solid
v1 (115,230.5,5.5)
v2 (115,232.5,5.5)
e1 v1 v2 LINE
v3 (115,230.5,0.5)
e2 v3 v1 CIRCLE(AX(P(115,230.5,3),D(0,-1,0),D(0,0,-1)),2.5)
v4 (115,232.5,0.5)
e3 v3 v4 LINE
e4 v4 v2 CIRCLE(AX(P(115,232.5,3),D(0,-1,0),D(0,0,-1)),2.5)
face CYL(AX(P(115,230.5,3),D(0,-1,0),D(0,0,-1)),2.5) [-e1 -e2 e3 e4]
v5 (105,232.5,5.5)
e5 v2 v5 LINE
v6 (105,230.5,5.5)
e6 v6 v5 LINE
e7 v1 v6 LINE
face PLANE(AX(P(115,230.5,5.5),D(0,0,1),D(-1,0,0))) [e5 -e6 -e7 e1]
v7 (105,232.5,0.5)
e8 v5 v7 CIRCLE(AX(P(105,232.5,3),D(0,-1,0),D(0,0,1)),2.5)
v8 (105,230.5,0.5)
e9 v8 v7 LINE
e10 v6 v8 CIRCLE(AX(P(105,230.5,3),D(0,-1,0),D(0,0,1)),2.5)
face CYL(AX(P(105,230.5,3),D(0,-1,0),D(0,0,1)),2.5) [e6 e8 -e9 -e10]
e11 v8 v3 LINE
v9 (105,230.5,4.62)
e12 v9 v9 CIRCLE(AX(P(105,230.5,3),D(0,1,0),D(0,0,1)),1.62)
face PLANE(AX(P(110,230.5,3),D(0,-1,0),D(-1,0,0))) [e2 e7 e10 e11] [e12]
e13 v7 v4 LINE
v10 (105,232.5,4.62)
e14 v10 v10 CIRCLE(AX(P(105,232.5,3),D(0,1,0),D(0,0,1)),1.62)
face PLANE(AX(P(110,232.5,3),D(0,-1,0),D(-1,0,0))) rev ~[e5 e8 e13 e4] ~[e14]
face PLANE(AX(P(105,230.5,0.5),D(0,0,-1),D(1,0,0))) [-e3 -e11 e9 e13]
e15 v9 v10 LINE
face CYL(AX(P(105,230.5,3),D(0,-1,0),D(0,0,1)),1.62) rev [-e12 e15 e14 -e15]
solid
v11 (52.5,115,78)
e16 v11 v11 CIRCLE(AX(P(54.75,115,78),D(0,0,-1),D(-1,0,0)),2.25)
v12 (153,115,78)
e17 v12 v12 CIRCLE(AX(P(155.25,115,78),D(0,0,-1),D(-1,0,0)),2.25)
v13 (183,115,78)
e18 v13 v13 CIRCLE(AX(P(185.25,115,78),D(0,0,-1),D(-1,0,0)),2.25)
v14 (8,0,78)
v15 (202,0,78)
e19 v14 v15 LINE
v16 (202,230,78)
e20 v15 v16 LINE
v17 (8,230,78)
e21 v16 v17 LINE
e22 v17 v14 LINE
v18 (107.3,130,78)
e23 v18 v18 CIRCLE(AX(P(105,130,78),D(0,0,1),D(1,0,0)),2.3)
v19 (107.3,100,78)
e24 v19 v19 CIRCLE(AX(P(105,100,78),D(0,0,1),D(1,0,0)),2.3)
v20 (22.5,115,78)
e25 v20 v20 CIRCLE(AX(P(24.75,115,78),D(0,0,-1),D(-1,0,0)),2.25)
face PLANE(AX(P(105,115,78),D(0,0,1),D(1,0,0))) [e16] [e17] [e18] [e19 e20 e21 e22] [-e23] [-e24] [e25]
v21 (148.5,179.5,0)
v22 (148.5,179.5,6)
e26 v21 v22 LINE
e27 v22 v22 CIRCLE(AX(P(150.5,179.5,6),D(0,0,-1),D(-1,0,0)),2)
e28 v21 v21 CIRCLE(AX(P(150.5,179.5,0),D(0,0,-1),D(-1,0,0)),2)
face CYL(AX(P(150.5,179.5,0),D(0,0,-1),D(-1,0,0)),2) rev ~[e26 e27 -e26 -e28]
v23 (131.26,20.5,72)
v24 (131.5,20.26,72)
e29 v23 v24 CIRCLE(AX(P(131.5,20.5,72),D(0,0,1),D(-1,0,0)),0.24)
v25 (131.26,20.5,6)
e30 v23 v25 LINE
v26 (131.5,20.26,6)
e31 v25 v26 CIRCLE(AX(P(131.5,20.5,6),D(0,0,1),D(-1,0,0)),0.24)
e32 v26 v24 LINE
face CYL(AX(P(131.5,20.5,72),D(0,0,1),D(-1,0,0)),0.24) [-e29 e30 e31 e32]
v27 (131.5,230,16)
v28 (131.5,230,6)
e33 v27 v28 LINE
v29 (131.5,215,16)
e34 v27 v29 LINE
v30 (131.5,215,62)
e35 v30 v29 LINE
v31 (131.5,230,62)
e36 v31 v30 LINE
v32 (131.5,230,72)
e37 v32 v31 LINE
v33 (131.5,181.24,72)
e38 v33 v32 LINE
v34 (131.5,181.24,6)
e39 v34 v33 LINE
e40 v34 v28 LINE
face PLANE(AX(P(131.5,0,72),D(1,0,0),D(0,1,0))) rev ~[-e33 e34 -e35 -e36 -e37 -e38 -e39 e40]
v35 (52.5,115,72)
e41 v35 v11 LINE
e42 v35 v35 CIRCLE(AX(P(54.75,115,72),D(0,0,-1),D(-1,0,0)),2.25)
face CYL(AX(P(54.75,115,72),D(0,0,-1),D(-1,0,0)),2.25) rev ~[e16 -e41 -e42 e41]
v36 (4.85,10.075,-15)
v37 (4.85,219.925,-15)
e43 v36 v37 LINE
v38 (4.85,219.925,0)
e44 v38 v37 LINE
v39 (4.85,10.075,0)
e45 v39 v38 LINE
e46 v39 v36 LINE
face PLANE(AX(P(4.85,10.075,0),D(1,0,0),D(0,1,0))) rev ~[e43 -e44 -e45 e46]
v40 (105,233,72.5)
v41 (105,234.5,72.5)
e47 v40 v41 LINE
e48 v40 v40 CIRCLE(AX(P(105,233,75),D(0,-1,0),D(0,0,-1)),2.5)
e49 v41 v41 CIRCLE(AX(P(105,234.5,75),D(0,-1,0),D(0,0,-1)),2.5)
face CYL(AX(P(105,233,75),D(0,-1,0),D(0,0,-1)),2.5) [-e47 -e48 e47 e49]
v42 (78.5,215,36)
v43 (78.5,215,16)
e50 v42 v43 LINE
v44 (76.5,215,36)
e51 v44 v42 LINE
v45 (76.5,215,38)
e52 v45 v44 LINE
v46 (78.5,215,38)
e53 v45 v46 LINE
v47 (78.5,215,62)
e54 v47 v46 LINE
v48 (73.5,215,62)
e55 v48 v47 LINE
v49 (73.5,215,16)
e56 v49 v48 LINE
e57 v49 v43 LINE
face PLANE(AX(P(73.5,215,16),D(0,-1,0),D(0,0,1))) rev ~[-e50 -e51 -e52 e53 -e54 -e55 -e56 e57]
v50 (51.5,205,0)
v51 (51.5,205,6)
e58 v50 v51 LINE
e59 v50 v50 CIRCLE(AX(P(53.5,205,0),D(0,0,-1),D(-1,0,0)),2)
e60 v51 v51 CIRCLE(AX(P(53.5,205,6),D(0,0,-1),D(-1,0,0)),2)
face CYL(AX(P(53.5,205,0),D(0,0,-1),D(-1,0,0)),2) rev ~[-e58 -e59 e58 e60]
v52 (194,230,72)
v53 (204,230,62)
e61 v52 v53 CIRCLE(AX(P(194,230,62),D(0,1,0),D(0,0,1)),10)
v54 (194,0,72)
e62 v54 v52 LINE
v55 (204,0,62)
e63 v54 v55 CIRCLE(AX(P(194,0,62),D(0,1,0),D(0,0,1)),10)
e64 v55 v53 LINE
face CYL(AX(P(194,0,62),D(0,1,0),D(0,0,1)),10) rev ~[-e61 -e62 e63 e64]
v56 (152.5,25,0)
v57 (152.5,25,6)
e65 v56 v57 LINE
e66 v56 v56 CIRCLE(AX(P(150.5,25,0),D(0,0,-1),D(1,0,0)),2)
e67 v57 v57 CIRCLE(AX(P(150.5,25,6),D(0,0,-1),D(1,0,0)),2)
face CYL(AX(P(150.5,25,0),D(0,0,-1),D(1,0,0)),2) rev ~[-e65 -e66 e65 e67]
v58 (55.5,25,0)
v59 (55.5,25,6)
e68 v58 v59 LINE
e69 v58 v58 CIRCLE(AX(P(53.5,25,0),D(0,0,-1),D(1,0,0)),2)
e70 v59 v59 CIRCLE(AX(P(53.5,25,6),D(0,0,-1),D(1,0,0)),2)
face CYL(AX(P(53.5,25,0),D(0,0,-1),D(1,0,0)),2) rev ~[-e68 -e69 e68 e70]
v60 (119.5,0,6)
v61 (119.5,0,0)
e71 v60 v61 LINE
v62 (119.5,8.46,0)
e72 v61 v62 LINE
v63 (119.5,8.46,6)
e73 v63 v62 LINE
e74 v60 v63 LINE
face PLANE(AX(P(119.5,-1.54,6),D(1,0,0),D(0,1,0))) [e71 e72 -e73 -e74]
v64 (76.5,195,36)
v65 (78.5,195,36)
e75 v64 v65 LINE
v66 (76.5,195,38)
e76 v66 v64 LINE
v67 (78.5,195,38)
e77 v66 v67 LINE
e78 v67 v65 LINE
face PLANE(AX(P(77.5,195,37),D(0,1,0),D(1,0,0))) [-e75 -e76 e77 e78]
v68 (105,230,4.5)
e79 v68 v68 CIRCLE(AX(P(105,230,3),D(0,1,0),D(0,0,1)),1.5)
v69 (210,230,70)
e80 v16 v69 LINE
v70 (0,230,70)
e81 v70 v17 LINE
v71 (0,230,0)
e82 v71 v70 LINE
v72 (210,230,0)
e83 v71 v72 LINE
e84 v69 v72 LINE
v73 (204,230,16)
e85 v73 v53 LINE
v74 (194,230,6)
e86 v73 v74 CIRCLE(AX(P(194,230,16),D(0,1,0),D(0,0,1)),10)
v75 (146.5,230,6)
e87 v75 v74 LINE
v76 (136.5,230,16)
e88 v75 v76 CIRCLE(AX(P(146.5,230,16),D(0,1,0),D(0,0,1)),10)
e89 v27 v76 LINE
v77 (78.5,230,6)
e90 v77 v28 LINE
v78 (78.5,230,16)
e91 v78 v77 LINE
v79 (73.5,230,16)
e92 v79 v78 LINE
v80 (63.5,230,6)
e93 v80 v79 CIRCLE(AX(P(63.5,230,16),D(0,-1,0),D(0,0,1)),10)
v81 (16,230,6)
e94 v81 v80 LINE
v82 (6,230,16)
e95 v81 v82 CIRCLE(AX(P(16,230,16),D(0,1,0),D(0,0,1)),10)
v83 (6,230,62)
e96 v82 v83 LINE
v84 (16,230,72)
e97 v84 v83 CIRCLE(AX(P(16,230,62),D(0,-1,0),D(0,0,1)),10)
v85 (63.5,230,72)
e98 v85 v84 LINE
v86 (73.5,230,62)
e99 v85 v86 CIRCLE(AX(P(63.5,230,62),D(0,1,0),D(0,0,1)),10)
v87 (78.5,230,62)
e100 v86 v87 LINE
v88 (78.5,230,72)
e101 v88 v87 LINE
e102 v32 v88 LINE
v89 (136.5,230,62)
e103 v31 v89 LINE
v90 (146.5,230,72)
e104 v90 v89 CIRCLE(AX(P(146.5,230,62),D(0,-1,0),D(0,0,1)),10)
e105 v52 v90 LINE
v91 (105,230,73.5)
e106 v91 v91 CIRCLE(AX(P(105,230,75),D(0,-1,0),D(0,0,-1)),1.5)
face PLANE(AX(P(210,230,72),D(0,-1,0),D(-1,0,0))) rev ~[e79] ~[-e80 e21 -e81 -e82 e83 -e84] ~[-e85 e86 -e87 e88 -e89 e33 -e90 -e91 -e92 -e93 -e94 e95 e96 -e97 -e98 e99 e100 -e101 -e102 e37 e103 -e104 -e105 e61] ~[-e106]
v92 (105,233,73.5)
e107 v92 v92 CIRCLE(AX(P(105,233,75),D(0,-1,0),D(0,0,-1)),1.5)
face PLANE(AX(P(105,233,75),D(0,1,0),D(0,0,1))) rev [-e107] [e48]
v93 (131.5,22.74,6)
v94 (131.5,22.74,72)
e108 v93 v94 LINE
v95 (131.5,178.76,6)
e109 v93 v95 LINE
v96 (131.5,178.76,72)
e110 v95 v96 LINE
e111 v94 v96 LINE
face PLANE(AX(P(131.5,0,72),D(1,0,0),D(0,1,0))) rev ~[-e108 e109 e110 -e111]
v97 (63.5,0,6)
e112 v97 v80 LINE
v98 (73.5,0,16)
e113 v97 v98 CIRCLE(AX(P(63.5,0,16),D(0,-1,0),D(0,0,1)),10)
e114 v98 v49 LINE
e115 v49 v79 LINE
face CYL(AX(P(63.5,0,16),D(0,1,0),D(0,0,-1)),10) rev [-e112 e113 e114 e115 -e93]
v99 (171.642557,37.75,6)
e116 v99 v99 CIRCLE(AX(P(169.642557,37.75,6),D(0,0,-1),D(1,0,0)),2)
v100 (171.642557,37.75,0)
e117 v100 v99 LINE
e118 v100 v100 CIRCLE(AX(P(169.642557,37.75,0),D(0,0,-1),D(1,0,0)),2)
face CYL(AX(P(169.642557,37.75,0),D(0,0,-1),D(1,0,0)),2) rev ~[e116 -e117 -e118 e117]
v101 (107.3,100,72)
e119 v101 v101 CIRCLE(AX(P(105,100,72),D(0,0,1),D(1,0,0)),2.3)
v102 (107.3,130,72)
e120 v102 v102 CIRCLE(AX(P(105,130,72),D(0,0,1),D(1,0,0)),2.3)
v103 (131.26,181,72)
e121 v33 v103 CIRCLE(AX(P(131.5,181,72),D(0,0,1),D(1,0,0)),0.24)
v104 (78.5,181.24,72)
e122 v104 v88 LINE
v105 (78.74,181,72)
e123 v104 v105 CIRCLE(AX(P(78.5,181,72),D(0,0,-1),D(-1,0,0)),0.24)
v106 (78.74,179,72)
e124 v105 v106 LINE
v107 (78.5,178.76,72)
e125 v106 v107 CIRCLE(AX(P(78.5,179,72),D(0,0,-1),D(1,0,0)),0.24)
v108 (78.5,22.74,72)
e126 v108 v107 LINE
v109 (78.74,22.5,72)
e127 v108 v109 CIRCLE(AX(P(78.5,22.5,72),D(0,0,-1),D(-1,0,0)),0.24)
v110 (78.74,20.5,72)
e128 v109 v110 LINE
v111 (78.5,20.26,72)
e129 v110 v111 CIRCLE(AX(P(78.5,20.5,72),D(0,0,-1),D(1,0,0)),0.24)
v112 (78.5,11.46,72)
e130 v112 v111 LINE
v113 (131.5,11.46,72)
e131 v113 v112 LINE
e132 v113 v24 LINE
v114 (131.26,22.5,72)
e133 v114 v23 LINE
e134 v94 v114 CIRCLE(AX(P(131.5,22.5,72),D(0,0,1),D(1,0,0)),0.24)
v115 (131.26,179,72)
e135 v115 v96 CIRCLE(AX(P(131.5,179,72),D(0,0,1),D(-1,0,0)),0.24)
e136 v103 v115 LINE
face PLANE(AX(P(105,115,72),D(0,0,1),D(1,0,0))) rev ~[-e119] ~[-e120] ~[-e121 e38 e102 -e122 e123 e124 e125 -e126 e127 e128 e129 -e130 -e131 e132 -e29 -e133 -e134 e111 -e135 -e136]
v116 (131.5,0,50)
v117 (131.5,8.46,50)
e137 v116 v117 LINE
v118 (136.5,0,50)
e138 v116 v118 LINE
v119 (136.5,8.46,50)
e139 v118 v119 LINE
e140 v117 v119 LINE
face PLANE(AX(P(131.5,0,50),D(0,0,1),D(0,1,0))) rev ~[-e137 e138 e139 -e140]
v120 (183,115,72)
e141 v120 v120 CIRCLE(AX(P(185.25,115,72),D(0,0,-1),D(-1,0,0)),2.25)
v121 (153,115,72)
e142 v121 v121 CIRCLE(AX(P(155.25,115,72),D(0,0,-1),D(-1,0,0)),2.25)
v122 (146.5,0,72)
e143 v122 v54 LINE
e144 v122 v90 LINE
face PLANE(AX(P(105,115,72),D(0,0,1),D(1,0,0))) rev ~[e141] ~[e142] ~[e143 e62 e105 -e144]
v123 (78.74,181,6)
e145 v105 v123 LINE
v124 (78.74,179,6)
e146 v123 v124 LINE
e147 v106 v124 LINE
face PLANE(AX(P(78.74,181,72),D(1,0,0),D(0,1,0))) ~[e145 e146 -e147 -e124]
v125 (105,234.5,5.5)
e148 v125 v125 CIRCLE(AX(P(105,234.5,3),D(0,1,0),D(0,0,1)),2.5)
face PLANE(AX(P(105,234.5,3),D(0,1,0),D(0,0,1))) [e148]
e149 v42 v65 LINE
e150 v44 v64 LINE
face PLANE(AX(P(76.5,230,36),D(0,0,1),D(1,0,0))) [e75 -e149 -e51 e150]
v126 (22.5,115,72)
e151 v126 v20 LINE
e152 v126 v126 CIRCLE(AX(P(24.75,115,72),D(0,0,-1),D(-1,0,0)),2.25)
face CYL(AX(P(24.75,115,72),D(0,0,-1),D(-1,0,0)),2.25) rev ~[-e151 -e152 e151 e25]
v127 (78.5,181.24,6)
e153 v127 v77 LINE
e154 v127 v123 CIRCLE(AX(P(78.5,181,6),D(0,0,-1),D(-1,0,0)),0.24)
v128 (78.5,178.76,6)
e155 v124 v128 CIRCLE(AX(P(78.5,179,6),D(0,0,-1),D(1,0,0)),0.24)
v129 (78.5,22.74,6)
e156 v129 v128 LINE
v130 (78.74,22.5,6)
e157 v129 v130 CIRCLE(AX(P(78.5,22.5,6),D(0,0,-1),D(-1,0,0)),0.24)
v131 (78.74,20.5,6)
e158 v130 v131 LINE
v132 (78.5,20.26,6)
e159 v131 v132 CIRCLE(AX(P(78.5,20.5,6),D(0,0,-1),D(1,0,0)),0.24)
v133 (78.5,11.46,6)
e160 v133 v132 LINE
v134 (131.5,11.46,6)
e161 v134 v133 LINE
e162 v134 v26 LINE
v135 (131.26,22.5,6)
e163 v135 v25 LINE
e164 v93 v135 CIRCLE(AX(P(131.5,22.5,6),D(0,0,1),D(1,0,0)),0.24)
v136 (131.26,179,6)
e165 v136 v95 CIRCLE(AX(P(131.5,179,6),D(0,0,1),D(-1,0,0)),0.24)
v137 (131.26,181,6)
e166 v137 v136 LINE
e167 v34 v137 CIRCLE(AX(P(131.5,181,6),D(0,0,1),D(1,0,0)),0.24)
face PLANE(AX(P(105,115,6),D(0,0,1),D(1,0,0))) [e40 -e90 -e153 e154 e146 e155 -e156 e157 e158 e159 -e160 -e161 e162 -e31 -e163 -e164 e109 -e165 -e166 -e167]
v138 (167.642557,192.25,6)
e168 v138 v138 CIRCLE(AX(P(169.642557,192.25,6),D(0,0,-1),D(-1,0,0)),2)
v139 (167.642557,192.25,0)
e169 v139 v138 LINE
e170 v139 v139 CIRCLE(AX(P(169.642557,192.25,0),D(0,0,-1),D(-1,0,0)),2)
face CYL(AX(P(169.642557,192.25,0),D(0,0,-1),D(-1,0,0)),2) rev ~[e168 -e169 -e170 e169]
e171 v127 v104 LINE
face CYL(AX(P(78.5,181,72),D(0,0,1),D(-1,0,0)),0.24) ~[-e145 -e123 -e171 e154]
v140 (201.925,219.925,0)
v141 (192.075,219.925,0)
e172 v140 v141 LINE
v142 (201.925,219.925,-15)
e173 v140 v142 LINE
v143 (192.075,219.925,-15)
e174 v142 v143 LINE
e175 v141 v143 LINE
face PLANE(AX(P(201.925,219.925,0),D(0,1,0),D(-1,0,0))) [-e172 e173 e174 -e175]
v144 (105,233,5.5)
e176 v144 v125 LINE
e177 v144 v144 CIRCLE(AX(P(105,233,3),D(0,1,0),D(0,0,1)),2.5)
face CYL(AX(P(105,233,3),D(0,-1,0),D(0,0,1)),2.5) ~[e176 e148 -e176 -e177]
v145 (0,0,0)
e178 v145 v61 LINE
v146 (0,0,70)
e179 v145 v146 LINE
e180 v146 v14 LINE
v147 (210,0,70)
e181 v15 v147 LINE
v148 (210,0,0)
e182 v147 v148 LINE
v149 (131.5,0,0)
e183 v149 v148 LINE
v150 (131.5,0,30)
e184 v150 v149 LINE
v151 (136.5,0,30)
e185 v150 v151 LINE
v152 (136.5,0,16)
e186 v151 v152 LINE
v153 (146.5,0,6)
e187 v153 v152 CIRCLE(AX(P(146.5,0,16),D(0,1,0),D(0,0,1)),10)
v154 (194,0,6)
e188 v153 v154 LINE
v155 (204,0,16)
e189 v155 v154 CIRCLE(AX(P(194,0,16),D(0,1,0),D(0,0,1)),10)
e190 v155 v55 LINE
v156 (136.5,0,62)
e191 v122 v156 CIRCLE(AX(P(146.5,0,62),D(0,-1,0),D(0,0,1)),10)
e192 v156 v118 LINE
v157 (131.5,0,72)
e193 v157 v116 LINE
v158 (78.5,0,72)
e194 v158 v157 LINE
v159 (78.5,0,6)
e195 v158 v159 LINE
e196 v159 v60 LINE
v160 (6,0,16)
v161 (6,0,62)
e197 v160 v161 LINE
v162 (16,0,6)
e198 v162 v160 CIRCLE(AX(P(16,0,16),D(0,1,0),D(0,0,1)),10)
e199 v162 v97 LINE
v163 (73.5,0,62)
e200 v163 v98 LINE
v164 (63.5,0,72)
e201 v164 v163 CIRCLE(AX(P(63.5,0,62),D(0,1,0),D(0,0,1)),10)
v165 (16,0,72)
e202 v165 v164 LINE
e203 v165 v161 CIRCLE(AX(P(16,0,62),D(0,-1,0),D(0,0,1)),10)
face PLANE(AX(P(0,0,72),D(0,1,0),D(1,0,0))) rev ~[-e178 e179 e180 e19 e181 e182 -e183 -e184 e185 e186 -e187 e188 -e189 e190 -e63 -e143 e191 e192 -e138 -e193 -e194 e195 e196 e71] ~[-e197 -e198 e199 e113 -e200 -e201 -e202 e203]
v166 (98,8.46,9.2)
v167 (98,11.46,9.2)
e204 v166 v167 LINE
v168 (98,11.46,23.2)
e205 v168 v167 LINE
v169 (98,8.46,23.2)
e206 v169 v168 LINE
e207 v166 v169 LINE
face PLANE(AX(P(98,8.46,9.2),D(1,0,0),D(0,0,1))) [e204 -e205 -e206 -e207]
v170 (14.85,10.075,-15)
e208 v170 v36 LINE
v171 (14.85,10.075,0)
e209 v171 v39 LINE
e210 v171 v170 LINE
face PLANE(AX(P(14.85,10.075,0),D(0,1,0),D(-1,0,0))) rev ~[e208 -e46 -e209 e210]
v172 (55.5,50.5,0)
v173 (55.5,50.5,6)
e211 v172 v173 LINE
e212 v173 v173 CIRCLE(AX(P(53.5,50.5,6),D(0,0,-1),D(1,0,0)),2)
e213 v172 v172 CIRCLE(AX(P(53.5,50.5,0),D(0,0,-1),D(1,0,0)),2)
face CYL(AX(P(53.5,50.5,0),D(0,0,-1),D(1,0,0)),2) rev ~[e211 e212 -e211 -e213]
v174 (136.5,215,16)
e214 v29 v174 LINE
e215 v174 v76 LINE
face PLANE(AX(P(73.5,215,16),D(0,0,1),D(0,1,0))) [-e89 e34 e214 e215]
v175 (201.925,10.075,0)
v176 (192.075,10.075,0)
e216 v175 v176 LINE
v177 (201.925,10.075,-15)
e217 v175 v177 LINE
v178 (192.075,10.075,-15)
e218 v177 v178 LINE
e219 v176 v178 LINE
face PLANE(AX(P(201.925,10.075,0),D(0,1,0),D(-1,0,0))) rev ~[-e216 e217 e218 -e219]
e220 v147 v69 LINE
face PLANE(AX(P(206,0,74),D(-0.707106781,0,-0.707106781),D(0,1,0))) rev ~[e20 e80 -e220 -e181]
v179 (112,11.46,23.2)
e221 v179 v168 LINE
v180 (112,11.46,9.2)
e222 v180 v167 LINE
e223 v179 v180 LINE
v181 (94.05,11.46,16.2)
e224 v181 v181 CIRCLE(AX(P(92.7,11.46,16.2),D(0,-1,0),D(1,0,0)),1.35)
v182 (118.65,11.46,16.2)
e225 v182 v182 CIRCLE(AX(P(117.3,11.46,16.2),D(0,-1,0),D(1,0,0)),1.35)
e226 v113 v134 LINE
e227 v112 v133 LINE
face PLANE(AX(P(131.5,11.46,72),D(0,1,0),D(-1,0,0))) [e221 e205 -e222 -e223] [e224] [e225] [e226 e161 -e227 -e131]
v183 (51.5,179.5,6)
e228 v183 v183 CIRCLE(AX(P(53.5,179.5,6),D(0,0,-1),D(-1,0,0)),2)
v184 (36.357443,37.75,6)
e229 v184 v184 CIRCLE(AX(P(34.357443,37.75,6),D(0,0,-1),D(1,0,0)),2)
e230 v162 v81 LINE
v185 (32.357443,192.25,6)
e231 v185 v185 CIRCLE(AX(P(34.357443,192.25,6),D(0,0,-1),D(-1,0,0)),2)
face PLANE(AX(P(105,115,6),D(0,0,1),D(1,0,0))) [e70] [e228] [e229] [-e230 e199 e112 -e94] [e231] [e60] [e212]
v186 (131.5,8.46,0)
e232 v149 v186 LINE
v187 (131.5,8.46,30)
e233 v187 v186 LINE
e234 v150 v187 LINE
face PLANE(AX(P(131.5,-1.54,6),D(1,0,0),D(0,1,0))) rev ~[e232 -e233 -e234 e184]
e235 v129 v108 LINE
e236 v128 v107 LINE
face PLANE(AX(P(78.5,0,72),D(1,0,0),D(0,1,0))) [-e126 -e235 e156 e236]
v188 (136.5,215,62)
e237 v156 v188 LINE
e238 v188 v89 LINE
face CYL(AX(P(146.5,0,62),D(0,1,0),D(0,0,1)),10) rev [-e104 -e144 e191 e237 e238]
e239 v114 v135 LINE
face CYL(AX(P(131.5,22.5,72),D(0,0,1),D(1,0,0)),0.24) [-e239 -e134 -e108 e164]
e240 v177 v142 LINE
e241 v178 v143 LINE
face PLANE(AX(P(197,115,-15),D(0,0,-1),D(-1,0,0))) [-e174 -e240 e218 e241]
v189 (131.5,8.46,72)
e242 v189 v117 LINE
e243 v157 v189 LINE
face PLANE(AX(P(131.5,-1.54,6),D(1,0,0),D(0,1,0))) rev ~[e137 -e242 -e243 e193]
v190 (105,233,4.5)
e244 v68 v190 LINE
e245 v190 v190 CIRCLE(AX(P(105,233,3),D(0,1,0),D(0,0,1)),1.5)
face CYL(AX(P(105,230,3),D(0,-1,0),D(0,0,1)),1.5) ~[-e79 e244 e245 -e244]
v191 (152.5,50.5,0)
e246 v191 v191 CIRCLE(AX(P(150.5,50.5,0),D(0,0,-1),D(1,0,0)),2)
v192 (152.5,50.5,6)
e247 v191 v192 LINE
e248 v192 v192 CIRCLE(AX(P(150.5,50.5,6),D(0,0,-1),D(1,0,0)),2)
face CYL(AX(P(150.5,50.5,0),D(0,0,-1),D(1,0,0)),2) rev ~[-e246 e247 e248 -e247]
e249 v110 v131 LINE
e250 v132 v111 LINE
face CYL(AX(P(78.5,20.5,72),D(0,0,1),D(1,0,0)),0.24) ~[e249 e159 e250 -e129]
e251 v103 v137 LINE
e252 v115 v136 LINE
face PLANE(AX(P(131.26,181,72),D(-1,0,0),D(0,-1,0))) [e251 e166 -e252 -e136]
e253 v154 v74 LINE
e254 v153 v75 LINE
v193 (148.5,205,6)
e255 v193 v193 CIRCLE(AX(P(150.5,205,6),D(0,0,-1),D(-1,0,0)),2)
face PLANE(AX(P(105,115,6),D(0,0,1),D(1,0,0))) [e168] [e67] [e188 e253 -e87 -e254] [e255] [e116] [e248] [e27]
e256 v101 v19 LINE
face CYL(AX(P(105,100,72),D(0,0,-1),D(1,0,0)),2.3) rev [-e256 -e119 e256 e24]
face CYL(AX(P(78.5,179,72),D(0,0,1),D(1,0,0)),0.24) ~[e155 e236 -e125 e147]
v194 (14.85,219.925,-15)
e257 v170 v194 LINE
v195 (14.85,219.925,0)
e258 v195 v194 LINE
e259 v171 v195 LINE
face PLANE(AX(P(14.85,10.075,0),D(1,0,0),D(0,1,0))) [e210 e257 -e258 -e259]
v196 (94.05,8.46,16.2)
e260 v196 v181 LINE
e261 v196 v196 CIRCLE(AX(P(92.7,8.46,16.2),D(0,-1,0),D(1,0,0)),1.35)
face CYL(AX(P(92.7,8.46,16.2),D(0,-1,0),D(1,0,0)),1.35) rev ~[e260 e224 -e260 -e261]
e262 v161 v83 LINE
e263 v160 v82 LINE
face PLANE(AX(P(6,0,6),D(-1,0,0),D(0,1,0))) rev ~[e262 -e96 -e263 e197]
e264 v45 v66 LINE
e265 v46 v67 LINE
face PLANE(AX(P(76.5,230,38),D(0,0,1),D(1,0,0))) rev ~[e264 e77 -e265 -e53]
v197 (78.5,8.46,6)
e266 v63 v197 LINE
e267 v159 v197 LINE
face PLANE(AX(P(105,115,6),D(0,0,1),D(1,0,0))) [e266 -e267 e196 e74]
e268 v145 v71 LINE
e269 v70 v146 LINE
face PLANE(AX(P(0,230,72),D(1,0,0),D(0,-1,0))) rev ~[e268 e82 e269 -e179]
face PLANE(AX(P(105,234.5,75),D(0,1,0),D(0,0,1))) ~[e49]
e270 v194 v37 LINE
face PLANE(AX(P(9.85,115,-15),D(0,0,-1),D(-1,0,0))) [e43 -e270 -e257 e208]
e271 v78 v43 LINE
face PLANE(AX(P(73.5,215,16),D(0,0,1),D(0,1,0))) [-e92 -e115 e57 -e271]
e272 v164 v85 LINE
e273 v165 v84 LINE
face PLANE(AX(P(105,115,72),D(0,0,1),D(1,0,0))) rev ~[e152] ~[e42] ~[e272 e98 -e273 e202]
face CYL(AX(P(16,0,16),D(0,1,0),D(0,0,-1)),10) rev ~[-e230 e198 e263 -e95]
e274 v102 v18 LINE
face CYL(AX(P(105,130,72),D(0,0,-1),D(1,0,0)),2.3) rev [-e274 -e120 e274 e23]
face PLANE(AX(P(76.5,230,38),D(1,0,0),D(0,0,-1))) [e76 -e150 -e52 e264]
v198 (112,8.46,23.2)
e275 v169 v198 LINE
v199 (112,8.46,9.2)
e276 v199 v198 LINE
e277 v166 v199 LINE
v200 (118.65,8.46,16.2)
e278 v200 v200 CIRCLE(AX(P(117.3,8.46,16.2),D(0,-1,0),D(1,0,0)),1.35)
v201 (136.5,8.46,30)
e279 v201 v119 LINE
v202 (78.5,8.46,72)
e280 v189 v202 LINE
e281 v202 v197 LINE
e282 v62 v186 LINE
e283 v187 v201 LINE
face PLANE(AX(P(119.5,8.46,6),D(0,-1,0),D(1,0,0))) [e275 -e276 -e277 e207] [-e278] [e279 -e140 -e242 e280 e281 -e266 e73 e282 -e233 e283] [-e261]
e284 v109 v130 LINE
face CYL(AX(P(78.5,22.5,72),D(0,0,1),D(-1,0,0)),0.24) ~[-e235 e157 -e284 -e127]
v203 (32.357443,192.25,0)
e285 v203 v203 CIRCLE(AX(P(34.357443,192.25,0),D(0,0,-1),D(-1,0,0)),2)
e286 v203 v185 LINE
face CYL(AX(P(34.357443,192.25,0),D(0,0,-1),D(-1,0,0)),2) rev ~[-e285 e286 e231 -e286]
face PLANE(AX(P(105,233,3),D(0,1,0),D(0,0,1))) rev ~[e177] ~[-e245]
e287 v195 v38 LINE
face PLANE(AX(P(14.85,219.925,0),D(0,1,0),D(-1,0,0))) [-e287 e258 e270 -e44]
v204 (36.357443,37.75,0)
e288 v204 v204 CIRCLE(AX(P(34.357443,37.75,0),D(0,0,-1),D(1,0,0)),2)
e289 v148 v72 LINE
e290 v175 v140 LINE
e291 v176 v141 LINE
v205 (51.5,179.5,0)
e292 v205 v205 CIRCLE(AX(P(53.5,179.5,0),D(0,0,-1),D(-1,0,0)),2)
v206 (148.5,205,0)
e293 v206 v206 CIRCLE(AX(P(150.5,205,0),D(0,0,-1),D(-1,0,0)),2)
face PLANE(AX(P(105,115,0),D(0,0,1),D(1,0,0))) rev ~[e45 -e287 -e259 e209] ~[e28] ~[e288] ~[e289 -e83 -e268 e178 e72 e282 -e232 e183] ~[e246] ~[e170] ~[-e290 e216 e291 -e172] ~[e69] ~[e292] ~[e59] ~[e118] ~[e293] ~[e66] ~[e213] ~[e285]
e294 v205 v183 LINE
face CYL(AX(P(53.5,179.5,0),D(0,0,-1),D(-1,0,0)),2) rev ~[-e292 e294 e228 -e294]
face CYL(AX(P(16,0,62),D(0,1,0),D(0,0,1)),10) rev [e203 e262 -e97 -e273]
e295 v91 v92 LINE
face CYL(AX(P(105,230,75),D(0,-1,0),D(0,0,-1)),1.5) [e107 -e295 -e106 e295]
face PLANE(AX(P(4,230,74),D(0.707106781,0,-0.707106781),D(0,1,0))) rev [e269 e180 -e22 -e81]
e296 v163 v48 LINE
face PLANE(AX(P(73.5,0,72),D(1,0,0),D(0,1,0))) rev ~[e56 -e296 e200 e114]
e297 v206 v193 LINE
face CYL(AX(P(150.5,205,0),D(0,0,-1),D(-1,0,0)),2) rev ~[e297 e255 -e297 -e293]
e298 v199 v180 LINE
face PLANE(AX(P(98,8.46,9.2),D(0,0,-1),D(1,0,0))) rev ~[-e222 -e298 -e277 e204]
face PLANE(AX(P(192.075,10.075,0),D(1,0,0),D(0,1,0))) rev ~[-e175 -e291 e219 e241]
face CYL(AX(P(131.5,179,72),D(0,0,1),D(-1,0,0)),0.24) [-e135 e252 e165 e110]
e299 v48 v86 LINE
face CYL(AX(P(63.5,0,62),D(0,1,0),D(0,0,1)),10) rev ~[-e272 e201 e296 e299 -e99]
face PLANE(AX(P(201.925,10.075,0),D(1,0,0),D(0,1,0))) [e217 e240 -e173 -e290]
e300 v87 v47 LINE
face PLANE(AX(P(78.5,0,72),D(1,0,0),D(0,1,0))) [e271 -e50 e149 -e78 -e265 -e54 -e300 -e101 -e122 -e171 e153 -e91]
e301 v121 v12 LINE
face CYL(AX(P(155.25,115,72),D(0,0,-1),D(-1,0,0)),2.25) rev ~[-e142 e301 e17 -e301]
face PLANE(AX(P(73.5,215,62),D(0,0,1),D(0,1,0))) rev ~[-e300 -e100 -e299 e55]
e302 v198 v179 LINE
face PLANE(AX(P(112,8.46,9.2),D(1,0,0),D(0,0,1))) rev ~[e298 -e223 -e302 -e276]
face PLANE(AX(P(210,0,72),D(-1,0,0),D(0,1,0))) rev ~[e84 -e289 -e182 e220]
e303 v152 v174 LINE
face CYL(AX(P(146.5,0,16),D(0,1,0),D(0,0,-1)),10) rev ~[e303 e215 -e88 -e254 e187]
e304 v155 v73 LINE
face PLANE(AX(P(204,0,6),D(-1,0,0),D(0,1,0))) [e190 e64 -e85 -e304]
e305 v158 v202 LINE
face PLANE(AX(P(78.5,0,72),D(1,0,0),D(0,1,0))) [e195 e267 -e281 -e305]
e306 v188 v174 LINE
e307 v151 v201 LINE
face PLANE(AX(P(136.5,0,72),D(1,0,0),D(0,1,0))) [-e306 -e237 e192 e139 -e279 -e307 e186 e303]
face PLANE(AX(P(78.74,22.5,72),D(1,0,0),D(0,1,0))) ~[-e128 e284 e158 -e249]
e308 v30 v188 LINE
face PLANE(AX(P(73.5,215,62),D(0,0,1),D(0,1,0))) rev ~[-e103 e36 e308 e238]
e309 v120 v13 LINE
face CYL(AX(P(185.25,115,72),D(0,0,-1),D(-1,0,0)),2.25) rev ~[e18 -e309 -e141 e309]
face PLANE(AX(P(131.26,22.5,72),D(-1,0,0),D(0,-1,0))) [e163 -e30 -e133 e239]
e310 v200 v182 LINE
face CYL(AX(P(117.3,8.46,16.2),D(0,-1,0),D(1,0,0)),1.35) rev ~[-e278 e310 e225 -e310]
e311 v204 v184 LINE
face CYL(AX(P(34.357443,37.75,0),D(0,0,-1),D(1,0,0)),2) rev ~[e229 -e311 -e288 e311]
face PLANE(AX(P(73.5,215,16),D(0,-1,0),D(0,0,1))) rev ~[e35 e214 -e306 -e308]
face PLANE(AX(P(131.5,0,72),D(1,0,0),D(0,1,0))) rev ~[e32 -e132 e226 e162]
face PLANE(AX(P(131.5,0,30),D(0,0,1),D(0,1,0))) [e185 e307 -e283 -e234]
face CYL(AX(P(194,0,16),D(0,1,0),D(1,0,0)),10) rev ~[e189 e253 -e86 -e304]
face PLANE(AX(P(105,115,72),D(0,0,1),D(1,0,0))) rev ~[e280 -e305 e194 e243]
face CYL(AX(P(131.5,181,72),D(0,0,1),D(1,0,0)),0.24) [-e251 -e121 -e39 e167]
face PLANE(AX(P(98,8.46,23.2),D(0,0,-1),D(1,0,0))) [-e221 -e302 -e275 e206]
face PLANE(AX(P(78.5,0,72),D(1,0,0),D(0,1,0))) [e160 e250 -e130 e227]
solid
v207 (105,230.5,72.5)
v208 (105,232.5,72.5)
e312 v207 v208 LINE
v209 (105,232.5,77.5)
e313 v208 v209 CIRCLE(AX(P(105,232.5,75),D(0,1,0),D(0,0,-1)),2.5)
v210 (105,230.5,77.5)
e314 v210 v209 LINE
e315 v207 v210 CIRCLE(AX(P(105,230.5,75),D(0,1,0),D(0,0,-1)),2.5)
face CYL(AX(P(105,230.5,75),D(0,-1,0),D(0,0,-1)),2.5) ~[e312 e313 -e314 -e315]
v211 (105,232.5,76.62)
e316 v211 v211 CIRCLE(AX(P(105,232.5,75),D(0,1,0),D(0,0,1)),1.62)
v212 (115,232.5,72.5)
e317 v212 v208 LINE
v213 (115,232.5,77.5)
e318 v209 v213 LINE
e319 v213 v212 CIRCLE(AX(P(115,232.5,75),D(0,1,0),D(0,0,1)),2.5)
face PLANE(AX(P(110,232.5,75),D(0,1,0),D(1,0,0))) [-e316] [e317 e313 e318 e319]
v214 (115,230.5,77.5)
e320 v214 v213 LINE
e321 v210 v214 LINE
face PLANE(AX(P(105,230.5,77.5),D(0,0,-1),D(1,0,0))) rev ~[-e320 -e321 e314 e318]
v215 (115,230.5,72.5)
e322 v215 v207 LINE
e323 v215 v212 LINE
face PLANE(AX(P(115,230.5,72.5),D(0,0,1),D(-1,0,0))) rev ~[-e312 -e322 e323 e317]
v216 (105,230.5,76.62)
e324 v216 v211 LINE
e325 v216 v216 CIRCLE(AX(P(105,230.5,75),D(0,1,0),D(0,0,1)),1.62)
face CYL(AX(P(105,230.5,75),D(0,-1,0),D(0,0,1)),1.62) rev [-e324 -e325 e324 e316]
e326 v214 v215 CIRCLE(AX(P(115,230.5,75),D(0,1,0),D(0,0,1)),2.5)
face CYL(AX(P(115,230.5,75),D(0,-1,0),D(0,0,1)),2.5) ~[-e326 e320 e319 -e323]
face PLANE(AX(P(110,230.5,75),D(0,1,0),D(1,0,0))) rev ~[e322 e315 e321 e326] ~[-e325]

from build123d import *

# Parameters (mm, degrees)
SKETCH_1_W           = 210
SKETCH_1_H           = 230
EXTRUDE_1_DEPTH      = 6
SKETCH_2_W           = 9.85
SKETCH_2_H           = 209.85
SKETCH_2_W_2         = 10
EXTRUDE_3_DEPTH      = 15
SKETCH_3_R           = 2
CUT_EXTRUDE_1_DEPTH  = 10
SKETCH_17_W          = 6
SKETCH_17_H          = 230
EXTRUDE_9_DEPTH      = 66
EXTRUDE_10_DEPTH     = 6
CHAMFER_3_SIZE       = 8
SKETCH_19_W          = 5
SKETCH_19_H          = 230
EXTRUDE_11_DEPTH     = 66
FILLET_4_R           = 10
SKETCH_21_R          = 2.3
CUT_EXTRUDE_9_DEPTH  = 6
EXTRUDE_13_DEPTH     = 66
SKETCH_28_W          = 53
SKETCH_28_H          = 3
EXTRUDE_14_DEPTH     = 66
SKETCH_30_W          = 2
SKETCH_30_H          = 2
CUT_EXTRUDE_10_DEPTH = 35
SKETCH_31_R          = 1.35
SKETCH_31_W          = 14
SKETCH_31_H          = 14
CUT_EXTRUDE_11_DEPTH = 316.06185361
SKETCH_32_W          = 12
SKETCH_32_H          = 10
CUT_EXTRUDE_12_DEPTH = 320.662321834
CUT_EXTRUDE_13_REACH = 278.182
SKETCH_33_W          = 20
SKETCH_33_H          = 8.46
SKETCH_34_R          = 2.25
CUT_EXTRUDE_14_DEPTH = 30
SKETCH_36_R          = 2.25
CUT_EXTRUDE_15_DEPTH = 30
SKETCH_39_W          = 46
SKETCH_39_H          = 15
CUT_EXTRUDE_16_DEPTH = 104
SKETCH_40_R          = 1.5
EXTRUDE_16_DEPTH     = 3
SKETCH_41_R          = 2.5
EXTRUDE_17_DEPTH     = 1.5
SKETCH_44_R          = 1.62
EXTRUDE_19_DEPTH     = 2
SKETCH_46_R          = 1.62
EXTRUDE_20_DEPTH     = 2


with BuildPart() as part:
    # 草图1 → 凸台-拉伸1 (new body)
    with BuildSketch(Plane.XY):
        with Locations((105, 115)):
            Rectangle(SKETCH_1_W, SKETCH_1_H)
    extrude(amount=EXTRUDE_1_DEPTH)

    # 草图2 → 凸台-拉伸3 (add)
    with BuildSketch(Plane(origin=(0, 0, 0), x_dir=(-1, 0, 0), z_dir=(0, 0, -1))):
        with Locations((-197, 115)):
            Rectangle(SKETCH_2_W, SKETCH_2_H)
        with Locations((-9.85, 115)):
            Rectangle(SKETCH_2_W_2, SKETCH_2_H)
    extrude(amount=EXTRUDE_3_DEPTH)

    # 草图3 → 切除-拉伸1 (cut)
    with BuildSketch(Plane(origin=(0, 0, 0), x_dir=(-1, 0, 0), z_dir=(0, 0, -1))):
        with Locations((-169.6425573, 192.25)):
            Circle(SKETCH_3_R)
        with Locations((-150.5, 205)):
            Circle(SKETCH_3_R)
        with Locations((-150.5, 179.5)):
            Circle(SKETCH_3_R)
        with Locations(Location((-150.5, 50.5, 0), (0, 0, 180))):
            Circle(SKETCH_3_R)
        with Locations(Location((-150.5, 25, 0), (0, 0, 180))):
            Circle(SKETCH_3_R)
        with Locations(Location((-169.6425573, 37.75, 0), (0, 0, 180))):
            Circle(SKETCH_3_R)
        with Locations((-34.3574427, 192.25)):
            Circle(SKETCH_3_R)
        with Locations((-53.5, 205)):
            Circle(SKETCH_3_R)
        with Locations((-53.5, 179.5)):
            Circle(SKETCH_3_R)
        with Locations(Location((-53.5, 50.5, 0), (0, 0, 180))):
            Circle(SKETCH_3_R)
        with Locations(Location((-53.5, 25, 0), (0, 0, 180))):
            Circle(SKETCH_3_R)
        with Locations(Location((-34.3574427, 37.75, 0), (0, 0, 180))):
            Circle(SKETCH_3_R)
    extrude(amount=-CUT_EXTRUDE_1_DEPTH, mode=Mode.SUBTRACT)

    # 草图17 → 凸台-拉伸9 (add)
    with BuildSketch(Plane.XY.offset(6)):
        with Locations((3, 115)):
            Rectangle(SKETCH_17_W, SKETCH_17_H)
        with Locations((207, 115)):
            Rectangle(SKETCH_17_W, SKETCH_17_H)
    extrude(amount=EXTRUDE_9_DEPTH)

    # 草图18 → 凸台-拉伸10 (add)
    with BuildSketch(Plane.XY.offset(72)):
        Polygon((210, 230), (204, 230), (6, 230), (0, 230), (0, 0), (6, 0), (204, 0), (210, 0), align=None)
    extrude(amount=EXTRUDE_10_DEPTH)

    # 倒角3
    chamfer_3_edges = [part.edges().sort_by_distance(p)[0] for p in [
        (210, 115, 78),
        (0, 115, 78),
    ]]
    chamfer(chamfer_3_edges, length=CHAMFER_3_SIZE)

    # 草图19 → 凸台-拉伸11 (add)
    with BuildSketch(Plane(origin=(0, 0, 72), x_dir=(-1, 0, 0), z_dir=(0, 0, -1))):
        with Locations((-134, 115)):
            Rectangle(SKETCH_19_W, SKETCH_19_H)
        with Locations((-76, 115)):
            Rectangle(SKETCH_19_W, SKETCH_19_H)
    extrude(amount=EXTRUDE_11_DEPTH)

    # 圆角4
    fillet_4_edges = [part.edges().sort_by_distance(p)[0] for p in [
        (6, 115, 6),
        (6, 115, 72),
        (204, 115, 6),
        (204, 115, 72),
        (73.5, 115, 6),
        (73.5, 115, 72),
        (136.5, 115, 72),
        (136.5, 115, 6),
    ]]
    fillet(fillet_4_edges, radius=FILLET_4_R)

    # 草图21 → 切除-拉伸9 (cut)
    with BuildSketch(Plane.XY.offset(72)):
        with Locations((105, 130)):
            Circle(SKETCH_21_R)
        with Locations((105, 100)):
            Circle(SKETCH_21_R)
    extrude(amount=CUT_EXTRUDE_9_DEPTH, mode=Mode.SUBTRACT)

    # 草图26 → 凸台-拉伸13 (add)
    with BuildSketch(Plane(origin=(0, 0, 72), x_dir=(-1, 0, 0), z_dir=(0, 0, -1))):
        with BuildLine():
            Line((-131.26, 181), (-131.26, 179))
            ThreePointArc((-131.26, 179), (-131.5, 178.76), (-131.74, 179))
            Line((-131.74, 179), (-131.74, 181))
            ThreePointArc((-131.74, 181), (-131.5, 181.24), (-131.26, 181))
        make_face()
        with BuildLine():
            Line((-131.26, 22.5), (-131.26, 20.5))
            ThreePointArc((-131.26, 20.5), (-131.5, 20.26), (-131.74, 20.5))
            Line((-131.74, 20.5), (-131.74, 22.5))
            ThreePointArc((-131.74, 22.5), (-131.5, 22.74), (-131.26, 22.5))
        make_face()
    extrude_13 = extrude(amount=EXTRUDE_13_DEPTH)

    # 镜向2: 凸台-拉伸13 across plane
    add(extrude_13.mirror(Plane.ZY.offset(-105)))

    # 草图28 → 凸台-拉伸14 (add)
    with BuildSketch(Plane(origin=(0, 0, 72), x_dir=(-1, 0, 0), z_dir=(0, 0, -1))):
        with Locations((-105, 9.96)):
            Rectangle(SKETCH_28_W, SKETCH_28_H)
    extrude(amount=EXTRUDE_14_DEPTH)

    # 草图30 → 切除-拉伸10 (cut)
    with BuildSketch(Plane(origin=(0, 230, 0), x_dir=(1, 0, 0), z_dir=(0, 1, 0))):
        with Locations((77.5, -37)):
            Rectangle(SKETCH_30_W, SKETCH_30_H)
    extrude(amount=-CUT_EXTRUDE_10_DEPTH, mode=Mode.SUBTRACT)

    # 草图31 → 切除-拉伸11 (cut, through all)
    with BuildSketch(Plane.XZ.offset(-8.46)):
        with Locations((92.7, 16.2)):
            Circle(SKETCH_31_R)
        with Locations((117.3, 16.2)):
            Circle(SKETCH_31_R)
        with Locations((105, 16.2)):
            Rectangle(SKETCH_31_W, SKETCH_31_H)
    extrude(amount=-CUT_EXTRUDE_11_DEPTH, mode=Mode.SUBTRACT)

    # 草图32 → 切除-拉伸12 (cut, through all)
    with BuildSketch(Plane.XY.offset(6)):
        with Locations((125.5, 3.46)):
            Rectangle(SKETCH_32_W, SKETCH_32_H)
    extrude(amount=-CUT_EXTRUDE_12_DEPTH, mode=Mode.SUBTRACT)

    # 草图33 → 切除-拉伸13 (cut, up to next)
    with BuildSketch(Plane.ZY.offset(-131.5), mode=Mode.PRIVATE) as cut_extrude_13_sk1:
        with Locations((40, 4.23)):
            Rectangle(SKETCH_33_W, SKETCH_33_H)
    cut_extrude_13_tool1 = extrude(cut_extrude_13_sk1.sketch, amount=-CUT_EXTRUDE_13_REACH, mode=Mode.PRIVATE) & part.part
    add(cut_extrude_13_tool1.solids().sort_by_distance((131.5, 4.23, 40))[0], mode=Mode.SUBTRACT)

    # 草图34 → 切除-拉伸14 (cut)
    with BuildSketch(Plane(origin=(0, 0, 72), x_dir=(-1, 0, 0), z_dir=(0, 0, -1))):
        with Locations((-185.25, 115)):
            Circle(SKETCH_34_R)
        with Locations((-155.25, 115)):
            Circle(SKETCH_34_R)
    extrude(amount=-CUT_EXTRUDE_14_DEPTH, mode=Mode.SUBTRACT)

    # 草图36 → 切除-拉伸15 (cut)
    with BuildSketch(Plane(origin=(0, 0, 72), x_dir=(-1, 0, 0), z_dir=(0, 0, -1))):
        with Locations((-54.75, 115)):
            Circle(SKETCH_36_R)
        with Locations((-24.75, 115)):
            Circle(SKETCH_36_R)
    extrude(amount=-CUT_EXTRUDE_15_DEPTH, mode=Mode.SUBTRACT)

    # 草图39 → 切除-拉伸16 (cut)
    with BuildSketch(Plane.ZY.offset(-73.5)):
        with Locations((39, 222.5)):
            Rectangle(SKETCH_39_W, SKETCH_39_H)
    extrude(amount=-CUT_EXTRUDE_16_DEPTH, mode=Mode.SUBTRACT)

    # 草图40 → 凸台-拉伸16 (add)
    with BuildSketch(Plane(origin=(0, 230, 0), x_dir=(1, 0, 0), z_dir=(0, 1, 0))):
        with Locations(Location((105, -3, 0), (0, 0, 270))):
            Circle(SKETCH_40_R)
    extrude_16 = extrude(amount=EXTRUDE_16_DEPTH)

    # 草图41 → 凸台-拉伸17 (add)
    with BuildSketch(Plane(origin=(0, 233, 0), x_dir=(1, 0, 0), z_dir=(0, 1, 0))):
        with Locations(Location((105, -3, 0), (0, 0, 270))):
            Circle(SKETCH_41_R)
    extrude_17 = extrude(amount=EXTRUDE_17_DEPTH)

    # 镜向3: 凸台-拉伸16, 凸台-拉伸17 across plane
    add(extrude_16.mirror(Plane.XY.offset(39)))
    add(extrude_17.mirror(Plane.XY.offset(39)))


with BuildPart() as body_2:
    # 草图44 → 凸台-拉伸19 (new body)
    with BuildSketch(Plane(origin=(0, 230.5, 0), x_dir=(1, 0, 0), z_dir=(0, 1, 0))):
        with BuildLine():
            Line((105, -0.5), (115, -0.5))
            ThreePointArc((115, -0.5), (117.5, -3), (115, -5.5))
            Line((115, -5.5), (105, -5.5))
            ThreePointArc((105, -5.5), (102.5, -3), (105, -0.5))
        make_face()
        with Locations(Location((105, -3, 0), (0, 0, 270))):
            Circle(SKETCH_44_R, mode=Mode.SUBTRACT)
    extrude(amount=EXTRUDE_19_DEPTH)


with BuildPart() as body_3:
    # 草图46 → 凸台-拉伸20 (new body)
    with BuildSketch(Plane(origin=(0, 230.5, 0), x_dir=(1, 0, 0), z_dir=(0, 1, 0))):
        with BuildLine():
            Line((115, -72.5), (105, -72.5))
            ThreePointArc((105, -72.5), (102.5, -75), (105, -77.5))
            Line((105, -77.5), (115, -77.5))
            ThreePointArc((115, -77.5), (117.5, -75), (115, -72.5))
        make_face()
        with Locations(Location((105, -75, 0), (0, 0, 270))):
            Circle(SKETCH_46_R, mode=Mode.SUBTRACT)
    extrude(amount=EXTRUDE_20_DEPTH)


solid = Compound([part.part, body_2.part, body_3.part])
